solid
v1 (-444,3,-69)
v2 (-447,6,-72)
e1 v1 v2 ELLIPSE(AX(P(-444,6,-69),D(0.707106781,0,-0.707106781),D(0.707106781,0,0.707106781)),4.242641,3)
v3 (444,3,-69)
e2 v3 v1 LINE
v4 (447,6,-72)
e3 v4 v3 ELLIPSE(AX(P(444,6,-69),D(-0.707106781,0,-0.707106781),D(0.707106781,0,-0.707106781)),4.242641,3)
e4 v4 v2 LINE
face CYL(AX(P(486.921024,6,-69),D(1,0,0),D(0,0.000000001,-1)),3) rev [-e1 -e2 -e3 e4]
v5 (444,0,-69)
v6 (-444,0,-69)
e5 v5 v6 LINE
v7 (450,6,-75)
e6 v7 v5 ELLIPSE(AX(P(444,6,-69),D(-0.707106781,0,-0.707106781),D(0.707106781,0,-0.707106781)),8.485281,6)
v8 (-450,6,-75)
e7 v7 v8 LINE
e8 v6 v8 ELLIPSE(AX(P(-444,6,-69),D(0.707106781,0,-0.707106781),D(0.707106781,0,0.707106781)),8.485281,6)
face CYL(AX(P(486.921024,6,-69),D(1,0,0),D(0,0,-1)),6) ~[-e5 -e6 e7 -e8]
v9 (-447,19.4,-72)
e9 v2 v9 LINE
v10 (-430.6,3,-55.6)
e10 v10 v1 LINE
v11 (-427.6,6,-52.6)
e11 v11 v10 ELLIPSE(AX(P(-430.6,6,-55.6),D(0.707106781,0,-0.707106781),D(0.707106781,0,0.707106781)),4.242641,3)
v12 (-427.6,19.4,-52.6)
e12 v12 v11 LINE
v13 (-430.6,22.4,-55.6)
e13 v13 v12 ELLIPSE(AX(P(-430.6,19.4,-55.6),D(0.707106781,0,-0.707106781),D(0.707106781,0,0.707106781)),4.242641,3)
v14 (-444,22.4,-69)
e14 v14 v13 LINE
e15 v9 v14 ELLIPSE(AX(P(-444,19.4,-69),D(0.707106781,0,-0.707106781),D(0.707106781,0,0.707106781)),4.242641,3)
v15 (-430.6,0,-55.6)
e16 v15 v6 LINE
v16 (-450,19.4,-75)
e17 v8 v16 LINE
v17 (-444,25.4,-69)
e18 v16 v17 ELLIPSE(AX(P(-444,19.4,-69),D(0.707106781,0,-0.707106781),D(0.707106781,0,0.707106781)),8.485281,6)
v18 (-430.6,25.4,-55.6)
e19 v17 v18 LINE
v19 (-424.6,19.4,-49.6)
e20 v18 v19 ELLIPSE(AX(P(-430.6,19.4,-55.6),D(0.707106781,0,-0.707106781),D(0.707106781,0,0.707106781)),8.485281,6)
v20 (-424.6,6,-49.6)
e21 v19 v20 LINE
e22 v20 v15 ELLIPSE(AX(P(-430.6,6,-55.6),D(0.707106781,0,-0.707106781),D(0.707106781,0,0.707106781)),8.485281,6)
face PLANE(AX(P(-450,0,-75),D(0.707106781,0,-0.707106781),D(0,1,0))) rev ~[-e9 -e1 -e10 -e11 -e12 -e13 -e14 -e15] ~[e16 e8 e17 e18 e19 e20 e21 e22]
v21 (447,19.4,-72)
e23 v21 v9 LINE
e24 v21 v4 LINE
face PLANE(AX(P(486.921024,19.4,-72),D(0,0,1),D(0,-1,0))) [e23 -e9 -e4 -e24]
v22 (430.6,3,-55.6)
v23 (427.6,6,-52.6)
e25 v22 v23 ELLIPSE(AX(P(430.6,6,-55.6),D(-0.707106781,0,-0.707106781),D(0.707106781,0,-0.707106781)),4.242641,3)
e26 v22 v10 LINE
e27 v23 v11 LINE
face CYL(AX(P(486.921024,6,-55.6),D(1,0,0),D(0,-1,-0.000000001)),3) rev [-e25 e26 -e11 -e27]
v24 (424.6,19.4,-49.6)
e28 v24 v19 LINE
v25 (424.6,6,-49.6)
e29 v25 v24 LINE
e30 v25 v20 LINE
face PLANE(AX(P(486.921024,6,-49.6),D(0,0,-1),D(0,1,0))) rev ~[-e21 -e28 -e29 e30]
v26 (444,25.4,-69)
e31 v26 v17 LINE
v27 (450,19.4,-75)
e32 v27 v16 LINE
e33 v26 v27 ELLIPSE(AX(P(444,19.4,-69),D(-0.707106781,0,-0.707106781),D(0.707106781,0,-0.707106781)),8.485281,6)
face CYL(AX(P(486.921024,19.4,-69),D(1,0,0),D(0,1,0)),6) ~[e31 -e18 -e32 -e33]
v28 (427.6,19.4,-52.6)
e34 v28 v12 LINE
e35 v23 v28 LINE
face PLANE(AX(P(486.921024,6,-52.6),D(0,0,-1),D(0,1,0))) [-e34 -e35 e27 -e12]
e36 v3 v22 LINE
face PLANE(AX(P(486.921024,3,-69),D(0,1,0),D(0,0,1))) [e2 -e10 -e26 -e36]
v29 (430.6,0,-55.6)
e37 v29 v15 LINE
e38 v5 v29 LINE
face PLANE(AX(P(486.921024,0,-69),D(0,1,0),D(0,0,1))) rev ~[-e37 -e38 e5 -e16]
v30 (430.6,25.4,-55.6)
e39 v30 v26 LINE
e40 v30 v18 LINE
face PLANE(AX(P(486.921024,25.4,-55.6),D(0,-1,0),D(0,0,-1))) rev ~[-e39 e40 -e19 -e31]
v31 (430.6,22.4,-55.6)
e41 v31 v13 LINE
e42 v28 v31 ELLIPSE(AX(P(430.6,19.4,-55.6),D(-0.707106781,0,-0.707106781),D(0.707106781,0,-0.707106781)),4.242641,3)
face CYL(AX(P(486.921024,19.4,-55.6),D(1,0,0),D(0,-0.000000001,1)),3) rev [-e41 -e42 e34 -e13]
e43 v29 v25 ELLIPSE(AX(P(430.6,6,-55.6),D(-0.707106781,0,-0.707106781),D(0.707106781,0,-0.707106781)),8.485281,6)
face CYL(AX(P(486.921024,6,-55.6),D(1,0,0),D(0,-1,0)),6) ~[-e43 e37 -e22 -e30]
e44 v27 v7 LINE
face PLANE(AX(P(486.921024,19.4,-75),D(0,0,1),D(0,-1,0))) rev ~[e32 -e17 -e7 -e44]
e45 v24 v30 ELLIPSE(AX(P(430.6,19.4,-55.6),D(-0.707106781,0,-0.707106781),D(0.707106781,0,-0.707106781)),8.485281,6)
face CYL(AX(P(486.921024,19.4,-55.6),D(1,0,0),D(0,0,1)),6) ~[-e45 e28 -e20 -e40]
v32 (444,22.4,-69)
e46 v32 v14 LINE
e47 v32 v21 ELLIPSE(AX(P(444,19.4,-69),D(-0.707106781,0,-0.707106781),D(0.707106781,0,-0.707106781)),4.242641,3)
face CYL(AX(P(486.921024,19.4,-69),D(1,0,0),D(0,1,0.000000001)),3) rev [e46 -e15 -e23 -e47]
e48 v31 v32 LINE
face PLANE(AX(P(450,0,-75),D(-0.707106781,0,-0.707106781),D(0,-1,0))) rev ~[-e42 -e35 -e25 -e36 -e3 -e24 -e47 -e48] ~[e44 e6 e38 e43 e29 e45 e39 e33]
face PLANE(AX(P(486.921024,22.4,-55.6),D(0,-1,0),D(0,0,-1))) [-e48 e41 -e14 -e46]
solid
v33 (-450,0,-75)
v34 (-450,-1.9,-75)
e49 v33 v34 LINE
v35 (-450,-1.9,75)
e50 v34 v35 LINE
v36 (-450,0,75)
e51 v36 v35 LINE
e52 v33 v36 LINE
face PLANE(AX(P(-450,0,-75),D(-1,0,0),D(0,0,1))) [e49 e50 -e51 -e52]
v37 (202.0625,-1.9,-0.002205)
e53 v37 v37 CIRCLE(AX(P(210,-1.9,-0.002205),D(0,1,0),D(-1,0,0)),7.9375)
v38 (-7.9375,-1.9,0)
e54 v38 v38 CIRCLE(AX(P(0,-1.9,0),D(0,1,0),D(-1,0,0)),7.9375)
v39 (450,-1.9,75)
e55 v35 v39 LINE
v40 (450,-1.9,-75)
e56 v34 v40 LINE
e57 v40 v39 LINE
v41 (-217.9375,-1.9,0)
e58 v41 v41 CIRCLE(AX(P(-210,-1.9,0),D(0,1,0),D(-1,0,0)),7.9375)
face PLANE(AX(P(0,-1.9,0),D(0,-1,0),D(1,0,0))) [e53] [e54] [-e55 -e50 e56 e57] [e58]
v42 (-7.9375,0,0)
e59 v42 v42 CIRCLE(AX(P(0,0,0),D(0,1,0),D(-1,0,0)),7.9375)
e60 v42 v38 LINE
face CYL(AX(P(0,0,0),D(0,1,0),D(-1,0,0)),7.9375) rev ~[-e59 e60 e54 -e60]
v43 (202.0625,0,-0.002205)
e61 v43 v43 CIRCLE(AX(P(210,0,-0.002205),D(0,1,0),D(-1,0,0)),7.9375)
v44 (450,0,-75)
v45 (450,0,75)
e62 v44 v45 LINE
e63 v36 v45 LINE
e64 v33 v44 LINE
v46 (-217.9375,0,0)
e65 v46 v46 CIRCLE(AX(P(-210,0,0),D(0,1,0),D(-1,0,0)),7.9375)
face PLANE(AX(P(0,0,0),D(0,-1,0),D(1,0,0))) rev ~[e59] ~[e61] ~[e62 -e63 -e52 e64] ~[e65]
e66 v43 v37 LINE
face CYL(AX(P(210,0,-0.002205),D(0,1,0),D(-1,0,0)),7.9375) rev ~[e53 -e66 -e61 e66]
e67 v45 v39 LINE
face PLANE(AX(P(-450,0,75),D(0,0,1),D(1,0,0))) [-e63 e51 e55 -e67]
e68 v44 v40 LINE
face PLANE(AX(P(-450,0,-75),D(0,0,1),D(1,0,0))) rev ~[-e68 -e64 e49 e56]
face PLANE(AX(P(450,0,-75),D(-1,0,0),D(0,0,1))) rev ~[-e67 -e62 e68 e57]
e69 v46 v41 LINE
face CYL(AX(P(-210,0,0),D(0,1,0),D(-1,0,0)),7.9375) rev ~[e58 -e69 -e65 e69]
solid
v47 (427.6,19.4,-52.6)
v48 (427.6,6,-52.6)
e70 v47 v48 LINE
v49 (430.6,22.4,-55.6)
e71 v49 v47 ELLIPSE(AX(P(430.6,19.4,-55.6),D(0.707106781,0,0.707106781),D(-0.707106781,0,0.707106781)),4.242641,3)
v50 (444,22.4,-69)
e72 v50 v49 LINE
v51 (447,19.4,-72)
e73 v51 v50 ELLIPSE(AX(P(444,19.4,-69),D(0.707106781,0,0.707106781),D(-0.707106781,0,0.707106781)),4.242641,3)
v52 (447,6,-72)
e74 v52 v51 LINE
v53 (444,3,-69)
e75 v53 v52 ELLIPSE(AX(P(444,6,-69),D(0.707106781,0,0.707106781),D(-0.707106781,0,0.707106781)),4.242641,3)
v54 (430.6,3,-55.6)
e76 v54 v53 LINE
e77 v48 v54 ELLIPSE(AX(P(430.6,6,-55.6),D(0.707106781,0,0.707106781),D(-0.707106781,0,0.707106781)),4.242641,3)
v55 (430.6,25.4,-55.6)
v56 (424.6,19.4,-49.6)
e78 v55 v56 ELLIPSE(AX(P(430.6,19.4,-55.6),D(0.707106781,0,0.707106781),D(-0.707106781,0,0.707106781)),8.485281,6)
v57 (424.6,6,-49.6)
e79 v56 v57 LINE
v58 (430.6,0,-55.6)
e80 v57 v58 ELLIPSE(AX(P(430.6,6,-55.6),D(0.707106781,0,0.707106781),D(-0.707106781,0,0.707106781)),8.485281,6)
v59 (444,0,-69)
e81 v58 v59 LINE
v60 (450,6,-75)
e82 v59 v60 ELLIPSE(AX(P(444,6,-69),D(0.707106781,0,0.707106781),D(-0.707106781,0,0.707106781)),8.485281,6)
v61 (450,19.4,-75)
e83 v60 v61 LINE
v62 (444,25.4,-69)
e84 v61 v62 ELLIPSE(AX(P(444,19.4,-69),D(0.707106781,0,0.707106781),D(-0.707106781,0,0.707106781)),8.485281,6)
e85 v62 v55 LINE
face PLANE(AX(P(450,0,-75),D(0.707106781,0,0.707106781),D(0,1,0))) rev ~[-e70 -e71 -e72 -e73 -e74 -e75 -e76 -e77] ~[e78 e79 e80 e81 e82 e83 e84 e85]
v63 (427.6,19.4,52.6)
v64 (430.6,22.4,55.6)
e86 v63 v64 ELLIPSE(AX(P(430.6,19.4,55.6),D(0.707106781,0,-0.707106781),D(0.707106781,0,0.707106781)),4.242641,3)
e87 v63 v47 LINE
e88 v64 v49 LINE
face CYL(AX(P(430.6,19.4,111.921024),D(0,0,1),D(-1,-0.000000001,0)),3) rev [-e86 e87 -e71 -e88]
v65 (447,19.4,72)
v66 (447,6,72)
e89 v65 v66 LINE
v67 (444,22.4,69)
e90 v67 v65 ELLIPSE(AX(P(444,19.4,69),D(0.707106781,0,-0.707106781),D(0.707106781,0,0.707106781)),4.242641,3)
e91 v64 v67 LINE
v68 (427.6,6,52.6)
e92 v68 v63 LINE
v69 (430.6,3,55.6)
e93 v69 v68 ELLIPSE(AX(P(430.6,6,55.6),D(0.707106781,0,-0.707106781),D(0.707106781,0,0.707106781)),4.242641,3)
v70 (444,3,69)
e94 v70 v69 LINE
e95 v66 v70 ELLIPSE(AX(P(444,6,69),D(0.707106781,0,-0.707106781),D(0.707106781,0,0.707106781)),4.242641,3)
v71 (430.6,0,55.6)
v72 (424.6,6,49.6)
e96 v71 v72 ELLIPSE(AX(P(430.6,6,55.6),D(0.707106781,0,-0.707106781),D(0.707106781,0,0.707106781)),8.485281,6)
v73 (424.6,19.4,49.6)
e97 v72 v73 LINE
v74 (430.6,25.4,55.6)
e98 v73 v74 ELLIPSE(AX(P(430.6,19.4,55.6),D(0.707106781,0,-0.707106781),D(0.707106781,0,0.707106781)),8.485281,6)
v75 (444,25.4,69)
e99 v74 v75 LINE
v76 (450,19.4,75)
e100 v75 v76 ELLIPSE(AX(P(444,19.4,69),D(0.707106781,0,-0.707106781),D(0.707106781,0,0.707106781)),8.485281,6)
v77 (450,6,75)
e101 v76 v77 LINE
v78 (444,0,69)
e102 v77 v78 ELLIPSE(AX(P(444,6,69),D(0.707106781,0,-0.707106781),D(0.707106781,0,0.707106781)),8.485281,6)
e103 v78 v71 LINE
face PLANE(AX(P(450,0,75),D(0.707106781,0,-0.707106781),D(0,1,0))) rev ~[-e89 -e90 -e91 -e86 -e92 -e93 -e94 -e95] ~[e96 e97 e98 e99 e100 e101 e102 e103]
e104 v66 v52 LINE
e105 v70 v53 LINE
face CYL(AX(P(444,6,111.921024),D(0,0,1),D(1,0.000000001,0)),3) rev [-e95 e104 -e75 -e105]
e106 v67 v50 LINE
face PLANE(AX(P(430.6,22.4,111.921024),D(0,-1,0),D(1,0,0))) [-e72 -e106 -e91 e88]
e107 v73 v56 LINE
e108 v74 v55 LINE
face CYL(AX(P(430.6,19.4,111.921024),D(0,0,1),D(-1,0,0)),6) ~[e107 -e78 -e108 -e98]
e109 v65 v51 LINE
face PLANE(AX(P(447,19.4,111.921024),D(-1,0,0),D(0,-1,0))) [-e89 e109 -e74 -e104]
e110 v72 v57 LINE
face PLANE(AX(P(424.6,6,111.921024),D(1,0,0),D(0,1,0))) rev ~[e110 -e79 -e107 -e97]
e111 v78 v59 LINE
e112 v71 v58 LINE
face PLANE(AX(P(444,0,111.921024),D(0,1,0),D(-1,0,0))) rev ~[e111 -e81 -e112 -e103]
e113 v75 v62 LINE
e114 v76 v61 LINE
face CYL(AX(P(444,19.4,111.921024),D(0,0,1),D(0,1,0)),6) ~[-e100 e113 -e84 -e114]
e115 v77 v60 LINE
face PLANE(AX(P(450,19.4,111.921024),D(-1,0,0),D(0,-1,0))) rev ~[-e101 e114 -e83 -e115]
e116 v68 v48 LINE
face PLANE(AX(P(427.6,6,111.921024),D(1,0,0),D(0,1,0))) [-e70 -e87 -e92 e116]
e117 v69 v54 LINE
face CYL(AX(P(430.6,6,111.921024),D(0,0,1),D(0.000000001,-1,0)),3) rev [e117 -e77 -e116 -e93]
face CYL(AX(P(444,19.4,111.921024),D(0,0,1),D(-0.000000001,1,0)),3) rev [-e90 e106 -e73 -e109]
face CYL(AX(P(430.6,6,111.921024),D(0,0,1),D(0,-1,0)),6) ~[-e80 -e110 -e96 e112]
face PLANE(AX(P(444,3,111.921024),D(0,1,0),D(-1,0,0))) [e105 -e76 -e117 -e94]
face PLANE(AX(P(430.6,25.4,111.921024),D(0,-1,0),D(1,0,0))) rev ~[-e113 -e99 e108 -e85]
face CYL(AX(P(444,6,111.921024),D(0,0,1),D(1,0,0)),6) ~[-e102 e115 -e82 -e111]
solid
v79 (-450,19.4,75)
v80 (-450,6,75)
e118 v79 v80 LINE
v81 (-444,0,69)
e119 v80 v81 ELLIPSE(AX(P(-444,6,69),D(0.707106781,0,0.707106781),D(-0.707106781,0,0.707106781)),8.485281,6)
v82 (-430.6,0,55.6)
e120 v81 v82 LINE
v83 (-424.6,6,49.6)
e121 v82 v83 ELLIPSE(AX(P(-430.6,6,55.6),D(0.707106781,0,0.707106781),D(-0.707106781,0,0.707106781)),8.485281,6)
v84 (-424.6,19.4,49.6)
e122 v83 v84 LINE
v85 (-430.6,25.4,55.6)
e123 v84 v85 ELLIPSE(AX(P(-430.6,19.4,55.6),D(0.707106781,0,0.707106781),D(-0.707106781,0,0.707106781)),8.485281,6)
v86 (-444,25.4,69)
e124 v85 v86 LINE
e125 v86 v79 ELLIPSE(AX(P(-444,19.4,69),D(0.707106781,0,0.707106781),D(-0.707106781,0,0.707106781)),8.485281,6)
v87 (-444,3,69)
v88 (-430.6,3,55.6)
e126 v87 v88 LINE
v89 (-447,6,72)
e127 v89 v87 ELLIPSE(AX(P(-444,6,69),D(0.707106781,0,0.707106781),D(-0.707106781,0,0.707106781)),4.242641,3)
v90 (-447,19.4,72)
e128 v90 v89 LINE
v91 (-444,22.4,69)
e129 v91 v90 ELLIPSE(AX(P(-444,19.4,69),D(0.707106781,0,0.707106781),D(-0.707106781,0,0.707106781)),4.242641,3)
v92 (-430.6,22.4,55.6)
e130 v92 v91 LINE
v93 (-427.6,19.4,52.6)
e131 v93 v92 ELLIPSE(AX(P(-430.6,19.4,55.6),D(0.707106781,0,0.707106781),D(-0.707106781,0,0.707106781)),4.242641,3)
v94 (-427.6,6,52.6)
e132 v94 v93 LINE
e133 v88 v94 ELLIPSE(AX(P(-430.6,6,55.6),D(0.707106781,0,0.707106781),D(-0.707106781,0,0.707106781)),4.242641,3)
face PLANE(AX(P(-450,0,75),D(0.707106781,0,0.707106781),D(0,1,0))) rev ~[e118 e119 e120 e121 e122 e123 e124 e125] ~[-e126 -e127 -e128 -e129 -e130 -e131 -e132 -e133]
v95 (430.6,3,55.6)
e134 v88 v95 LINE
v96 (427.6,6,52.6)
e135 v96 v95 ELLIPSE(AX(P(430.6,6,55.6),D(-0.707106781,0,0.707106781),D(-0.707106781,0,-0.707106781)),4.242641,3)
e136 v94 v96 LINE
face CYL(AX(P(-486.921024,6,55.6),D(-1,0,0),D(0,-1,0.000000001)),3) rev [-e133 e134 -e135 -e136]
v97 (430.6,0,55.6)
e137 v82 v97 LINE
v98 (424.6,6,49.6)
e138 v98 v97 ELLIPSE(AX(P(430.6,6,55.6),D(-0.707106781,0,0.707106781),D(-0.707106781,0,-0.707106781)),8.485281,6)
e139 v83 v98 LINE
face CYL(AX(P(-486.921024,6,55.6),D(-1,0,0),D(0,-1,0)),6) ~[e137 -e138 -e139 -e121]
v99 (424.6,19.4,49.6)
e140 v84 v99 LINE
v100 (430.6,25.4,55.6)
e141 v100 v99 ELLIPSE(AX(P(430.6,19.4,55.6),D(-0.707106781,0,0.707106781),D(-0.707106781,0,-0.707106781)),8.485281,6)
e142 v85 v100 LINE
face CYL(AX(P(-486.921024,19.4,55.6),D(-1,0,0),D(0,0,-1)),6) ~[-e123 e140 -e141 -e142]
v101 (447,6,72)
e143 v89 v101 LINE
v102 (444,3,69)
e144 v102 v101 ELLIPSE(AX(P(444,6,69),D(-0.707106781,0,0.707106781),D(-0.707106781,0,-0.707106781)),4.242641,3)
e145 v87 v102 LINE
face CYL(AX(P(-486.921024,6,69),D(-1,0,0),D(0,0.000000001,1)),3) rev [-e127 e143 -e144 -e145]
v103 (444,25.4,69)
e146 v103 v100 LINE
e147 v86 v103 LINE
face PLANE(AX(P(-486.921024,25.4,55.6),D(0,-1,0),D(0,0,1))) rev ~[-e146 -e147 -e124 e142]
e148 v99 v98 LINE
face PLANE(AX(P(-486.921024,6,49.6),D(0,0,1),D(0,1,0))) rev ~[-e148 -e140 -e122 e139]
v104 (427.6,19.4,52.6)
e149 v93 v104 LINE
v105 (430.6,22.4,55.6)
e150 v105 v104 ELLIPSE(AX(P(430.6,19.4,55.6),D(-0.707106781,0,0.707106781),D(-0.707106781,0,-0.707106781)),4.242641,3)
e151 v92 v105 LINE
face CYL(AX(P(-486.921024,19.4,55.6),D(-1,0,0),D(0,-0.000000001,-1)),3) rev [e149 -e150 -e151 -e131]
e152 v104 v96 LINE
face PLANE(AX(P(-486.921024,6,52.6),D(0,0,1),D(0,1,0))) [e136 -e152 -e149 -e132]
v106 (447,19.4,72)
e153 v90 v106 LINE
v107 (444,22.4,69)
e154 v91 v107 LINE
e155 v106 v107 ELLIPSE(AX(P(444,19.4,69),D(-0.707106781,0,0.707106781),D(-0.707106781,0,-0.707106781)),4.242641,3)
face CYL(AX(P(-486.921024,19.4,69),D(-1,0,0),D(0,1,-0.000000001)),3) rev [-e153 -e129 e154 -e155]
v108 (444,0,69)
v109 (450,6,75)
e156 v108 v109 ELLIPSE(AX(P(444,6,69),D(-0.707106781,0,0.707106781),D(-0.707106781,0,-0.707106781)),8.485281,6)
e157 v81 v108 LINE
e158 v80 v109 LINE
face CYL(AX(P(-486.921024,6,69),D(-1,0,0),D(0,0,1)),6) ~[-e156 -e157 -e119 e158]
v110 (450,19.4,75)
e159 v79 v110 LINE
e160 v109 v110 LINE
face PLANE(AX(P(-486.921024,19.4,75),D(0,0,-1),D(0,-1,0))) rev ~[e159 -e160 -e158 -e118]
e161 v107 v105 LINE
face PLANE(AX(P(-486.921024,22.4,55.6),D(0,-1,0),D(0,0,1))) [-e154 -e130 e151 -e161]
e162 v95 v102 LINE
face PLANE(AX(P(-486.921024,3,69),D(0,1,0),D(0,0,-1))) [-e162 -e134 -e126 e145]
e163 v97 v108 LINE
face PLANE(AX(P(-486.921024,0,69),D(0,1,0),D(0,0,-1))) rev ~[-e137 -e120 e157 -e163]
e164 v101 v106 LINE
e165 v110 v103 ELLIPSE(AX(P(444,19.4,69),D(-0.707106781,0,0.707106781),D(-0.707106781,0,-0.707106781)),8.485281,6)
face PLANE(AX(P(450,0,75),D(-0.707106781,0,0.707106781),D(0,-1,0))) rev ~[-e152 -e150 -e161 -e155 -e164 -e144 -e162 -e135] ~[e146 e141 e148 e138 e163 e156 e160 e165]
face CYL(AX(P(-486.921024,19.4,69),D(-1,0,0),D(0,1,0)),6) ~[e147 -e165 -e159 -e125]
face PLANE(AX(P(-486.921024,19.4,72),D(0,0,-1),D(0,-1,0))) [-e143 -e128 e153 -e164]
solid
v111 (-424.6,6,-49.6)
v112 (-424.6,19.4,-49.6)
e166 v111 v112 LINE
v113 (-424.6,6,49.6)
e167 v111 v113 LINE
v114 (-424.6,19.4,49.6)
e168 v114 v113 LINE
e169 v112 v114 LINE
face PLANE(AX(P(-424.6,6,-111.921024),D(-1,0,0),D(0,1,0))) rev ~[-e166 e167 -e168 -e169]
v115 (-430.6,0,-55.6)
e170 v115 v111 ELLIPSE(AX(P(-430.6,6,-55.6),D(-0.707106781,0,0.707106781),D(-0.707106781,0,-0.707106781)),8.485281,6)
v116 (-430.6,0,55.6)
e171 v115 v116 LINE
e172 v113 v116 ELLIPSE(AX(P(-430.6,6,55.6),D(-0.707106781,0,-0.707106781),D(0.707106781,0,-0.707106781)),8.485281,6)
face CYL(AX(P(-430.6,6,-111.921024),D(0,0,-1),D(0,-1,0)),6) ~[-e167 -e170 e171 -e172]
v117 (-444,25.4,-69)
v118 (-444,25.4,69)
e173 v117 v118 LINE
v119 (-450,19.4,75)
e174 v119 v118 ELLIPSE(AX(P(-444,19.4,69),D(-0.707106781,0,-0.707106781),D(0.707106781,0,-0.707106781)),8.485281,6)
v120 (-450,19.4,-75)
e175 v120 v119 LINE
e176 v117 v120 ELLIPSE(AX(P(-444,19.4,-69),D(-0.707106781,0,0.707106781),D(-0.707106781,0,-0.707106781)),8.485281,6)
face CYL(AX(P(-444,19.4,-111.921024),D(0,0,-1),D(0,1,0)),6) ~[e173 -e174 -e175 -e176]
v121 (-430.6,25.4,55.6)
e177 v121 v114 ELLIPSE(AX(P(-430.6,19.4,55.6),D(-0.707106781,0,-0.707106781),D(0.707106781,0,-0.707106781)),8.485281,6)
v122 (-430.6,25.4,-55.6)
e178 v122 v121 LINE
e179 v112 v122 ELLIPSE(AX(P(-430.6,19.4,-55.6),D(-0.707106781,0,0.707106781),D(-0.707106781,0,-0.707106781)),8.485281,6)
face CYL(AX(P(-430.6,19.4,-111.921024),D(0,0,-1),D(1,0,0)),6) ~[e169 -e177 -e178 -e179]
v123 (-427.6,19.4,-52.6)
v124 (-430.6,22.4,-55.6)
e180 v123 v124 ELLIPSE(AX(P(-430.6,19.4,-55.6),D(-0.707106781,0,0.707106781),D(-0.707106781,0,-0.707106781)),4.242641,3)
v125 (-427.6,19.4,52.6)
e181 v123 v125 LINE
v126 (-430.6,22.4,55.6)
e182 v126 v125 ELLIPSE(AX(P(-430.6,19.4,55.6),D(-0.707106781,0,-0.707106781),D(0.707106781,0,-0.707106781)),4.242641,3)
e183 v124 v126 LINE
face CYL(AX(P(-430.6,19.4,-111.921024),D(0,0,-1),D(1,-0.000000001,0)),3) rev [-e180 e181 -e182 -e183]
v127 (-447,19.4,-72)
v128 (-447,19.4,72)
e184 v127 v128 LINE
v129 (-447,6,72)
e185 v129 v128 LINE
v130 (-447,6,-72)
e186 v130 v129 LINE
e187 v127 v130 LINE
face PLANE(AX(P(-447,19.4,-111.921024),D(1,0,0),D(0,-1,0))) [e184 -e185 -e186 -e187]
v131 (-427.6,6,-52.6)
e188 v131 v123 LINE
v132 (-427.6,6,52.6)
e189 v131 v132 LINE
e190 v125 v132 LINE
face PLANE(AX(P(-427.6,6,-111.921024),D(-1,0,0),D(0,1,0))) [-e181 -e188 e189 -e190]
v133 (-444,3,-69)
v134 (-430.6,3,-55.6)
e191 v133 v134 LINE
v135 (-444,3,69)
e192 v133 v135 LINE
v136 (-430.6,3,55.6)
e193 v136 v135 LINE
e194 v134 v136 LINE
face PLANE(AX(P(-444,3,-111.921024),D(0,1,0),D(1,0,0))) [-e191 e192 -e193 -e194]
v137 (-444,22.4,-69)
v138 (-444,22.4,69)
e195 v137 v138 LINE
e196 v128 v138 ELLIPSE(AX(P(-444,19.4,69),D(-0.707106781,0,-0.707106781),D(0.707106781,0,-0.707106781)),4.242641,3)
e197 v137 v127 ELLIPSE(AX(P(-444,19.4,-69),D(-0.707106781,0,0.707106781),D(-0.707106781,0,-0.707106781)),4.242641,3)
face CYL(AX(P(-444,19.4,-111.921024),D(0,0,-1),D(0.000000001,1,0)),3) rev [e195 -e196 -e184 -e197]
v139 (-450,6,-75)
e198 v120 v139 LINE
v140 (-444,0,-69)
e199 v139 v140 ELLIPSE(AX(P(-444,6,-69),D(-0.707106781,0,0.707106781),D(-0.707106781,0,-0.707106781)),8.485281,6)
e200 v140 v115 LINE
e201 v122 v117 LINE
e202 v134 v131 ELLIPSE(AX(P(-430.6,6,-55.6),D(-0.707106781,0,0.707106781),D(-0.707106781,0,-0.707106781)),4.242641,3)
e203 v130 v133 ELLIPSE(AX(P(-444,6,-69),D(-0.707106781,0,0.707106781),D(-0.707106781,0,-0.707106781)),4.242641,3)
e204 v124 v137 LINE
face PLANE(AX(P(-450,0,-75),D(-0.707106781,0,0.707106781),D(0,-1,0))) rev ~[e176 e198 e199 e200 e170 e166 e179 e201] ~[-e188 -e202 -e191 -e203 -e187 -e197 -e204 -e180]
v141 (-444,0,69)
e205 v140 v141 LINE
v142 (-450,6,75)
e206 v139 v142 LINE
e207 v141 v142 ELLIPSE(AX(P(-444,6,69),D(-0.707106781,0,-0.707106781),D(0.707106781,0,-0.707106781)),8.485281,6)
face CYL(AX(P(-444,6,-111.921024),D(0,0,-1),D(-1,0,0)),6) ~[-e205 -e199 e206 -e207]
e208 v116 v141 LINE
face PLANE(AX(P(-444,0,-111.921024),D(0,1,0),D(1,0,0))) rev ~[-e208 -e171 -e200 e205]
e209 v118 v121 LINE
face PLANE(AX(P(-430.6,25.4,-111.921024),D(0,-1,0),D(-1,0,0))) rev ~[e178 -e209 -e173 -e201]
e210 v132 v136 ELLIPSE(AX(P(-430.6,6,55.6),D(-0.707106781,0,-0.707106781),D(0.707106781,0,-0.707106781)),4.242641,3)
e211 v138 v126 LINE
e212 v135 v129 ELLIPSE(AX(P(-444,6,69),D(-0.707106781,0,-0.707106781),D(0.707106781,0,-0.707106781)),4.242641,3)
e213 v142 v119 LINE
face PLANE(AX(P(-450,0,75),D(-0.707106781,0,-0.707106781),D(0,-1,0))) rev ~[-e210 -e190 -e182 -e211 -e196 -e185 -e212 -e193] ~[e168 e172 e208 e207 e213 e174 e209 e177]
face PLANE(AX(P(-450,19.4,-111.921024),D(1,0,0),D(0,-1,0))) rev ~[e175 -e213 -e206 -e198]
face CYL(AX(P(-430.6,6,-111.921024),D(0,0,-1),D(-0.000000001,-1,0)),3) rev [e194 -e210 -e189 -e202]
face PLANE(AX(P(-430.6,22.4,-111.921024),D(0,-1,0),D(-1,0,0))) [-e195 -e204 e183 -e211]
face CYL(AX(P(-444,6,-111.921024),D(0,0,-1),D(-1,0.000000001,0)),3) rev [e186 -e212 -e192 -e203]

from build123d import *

# Parameters (mm, degrees)
TUBO_CUADRADO_2_X_2_X_0_25_1_DEPTH      = 186.921024484
TUBO_CUADRADO_2_X_2_X_0_25_1_DEPTH_BACK = 36.921024484
TUBO_CUADRADO_2_X_2_X_0_25_1_2_DEPTH    = 973.842048969
TUBO_CUADRADO_2_X_2_X_0_25_1_3_DEPTH    = 223.842048969
TUBO_CUADRADO_2_X_2_X_0_25_1_4_DEPTH    = 973.842048969
CROQUIS3_W                              = 900
CROQUIS3_H                              = 150
SALIENTE_EXTRUIR1_DEPTH                 = 1.9
CROQUIS4_R                              = 7.937500001
CORTAR_EXTRUIR1_DEPTH                   = 10


with BuildPart() as part:
    # Sketch1 → Tubo cuadrado 2 X 2 X 0.25(1) (new, two sides: drawn at the far end of the back side and taken through both)
    with BuildSketch(Plane(origin=(-437.3, 12.7, -75), x_dir=(1, 0, 0), z_dir=(0, 0, 1)).offset(-TUBO_CUADRADO_2_X_2_X_0_25_1_DEPTH_BACK)):
        with BuildLine():
            Line((-6.7, -12.7), (6.7, -12.7))
            ThreePointArc((6.7, -12.7), (10.942640687, -10.942640687), (12.7, -6.7))
            Line((12.7, -6.7), (12.7, 6.7))
            ThreePointArc((12.7, 6.7), (10.942640687, 10.942640687), (6.7, 12.7))
            Line((6.7, 12.7), (-6.7, 12.7))
            ThreePointArc((-6.7, 12.7), (-10.942640687, 10.942640687), (-12.7, 6.7))
            Line((-12.7, 6.7), (-12.7, -6.7))
            ThreePointArc((-12.7, -6.7), (-10.942640687, -10.942640687), (-6.7, -12.7))
        make_face()
        with BuildLine():
            Line((-6.7, -9.7), (6.7, -9.7))
            ThreePointArc((6.7, -9.7), (8.821320344, -8.821320344), (9.7, -6.7))
            Line((9.7, -6.7), (9.7, 6.7))
            ThreePointArc((9.7, 6.7), (8.821320344, 8.821320344), (6.7, 9.7))
            Line((6.7, 9.7), (-6.7, 9.7))
            ThreePointArc((-6.7, 9.7), (-8.821320344, 8.821320344), (-9.7, 6.7))
            Line((-9.7, 6.7), (-9.7, -6.7))
            ThreePointArc((-9.7, -6.7), (-8.821320344, -8.821320344), (-6.7, -9.7))
        make_face(mode=Mode.SUBTRACT)
    extrude(amount=TUBO_CUADRADO_2_X_2_X_0_25_1_DEPTH + TUBO_CUADRADO_2_X_2_X_0_25_1_DEPTH_BACK)

    # Tubo cuadrado 2 X 2 X 0.25(1) mitre 1
    split(bisect_by=Plane(origin=(-450, 0, -75), x_dir=(0, -1, 0), z_dir=(-0.707106781, 0, 0.707106781)), keep=Keep.TOP)

    # Tubo cuadrado 2 X 2 X 0.25(1) mitre 2
    split(bisect_by=Plane(origin=(-450, 0, 75), x_dir=(0, -1, 0), z_dir=(-0.707106781, 0, -0.707106781)), keep=Keep.TOP)


with BuildPart() as body_2:
    # Sketch1 on segment 2 (carried to segment 2) → Tubo cuadrado 2 X 2 X 0.25_1 2 (new body)
    with BuildSketch(Plane(origin=(-486.921024484, 12.7, 62.3), x_dir=(0, 0, -1), z_dir=(1, 0, 0))):
        with BuildLine():
            Line((-6.7, -12.7), (6.7, -12.7))
            ThreePointArc((6.7, -12.7), (10.942640687, -10.942640687), (12.7, -6.7))
            Line((12.7, -6.7), (12.7, 6.7))
            ThreePointArc((12.7, 6.7), (10.942640687, 10.942640687), (6.7, 12.7))
            Line((6.7, 12.7), (-6.7, 12.7))
            ThreePointArc((-6.7, 12.7), (-10.942640687, 10.942640687), (-12.7, 6.7))
            Line((-12.7, 6.7), (-12.7, -6.7))
            ThreePointArc((-12.7, -6.7), (-10.942640687, -10.942640687), (-6.7, -12.7))
        make_face()
        with BuildLine():
            Line((-6.7, -9.7), (6.7, -9.7))
            ThreePointArc((6.7, -9.7), (8.821320344, -8.821320344), (9.7, -6.7))
            Line((9.7, -6.7), (9.7, 6.7))
            ThreePointArc((9.7, 6.7), (8.821320344, 8.821320344), (6.7, 9.7))
            Line((6.7, 9.7), (-6.7, 9.7))
            ThreePointArc((-6.7, 9.7), (-8.821320344, 8.821320344), (-9.7, 6.7))
            Line((-9.7, 6.7), (-9.7, -6.7))
            ThreePointArc((-9.7, -6.7), (-8.821320344, -8.821320344), (-6.7, -9.7))
        make_face(mode=Mode.SUBTRACT)
    extrude(amount=TUBO_CUADRADO_2_X_2_X_0_25_1_2_DEPTH)

    # Tubo cuadrado 2 X 2 X 0.25_1 2 mitre 1
    split(bisect_by=Plane(origin=(-450, 0, 75), x_dir=(0, 1, 0), z_dir=(0.707106781, 0, 0.707106781)), keep=Keep.TOP)

    # Tubo cuadrado 2 X 2 X 0.25_1 2 mitre 2
    split(bisect_by=Plane(origin=(450, 0, 75), x_dir=(0, -1, 0), z_dir=(-0.707106781, 0, 0.707106781)), keep=Keep.TOP)


with BuildPart() as body_3:
    # Sketch1 on segment 3 (carried to segment 3) → Tubo cuadrado 2 X 2 X 0.25_1 3 (new body)
    with BuildSketch(Plane(origin=(437.3, 12.7, 111.921024484), x_dir=(-1, 0, 0), z_dir=(0, 0, -1))):
        with BuildLine():
            Line((-6.7, -12.7), (6.7, -12.7))
            ThreePointArc((6.7, -12.7), (10.942640687, -10.942640687), (12.7, -6.7))
            Line((12.7, -6.7), (12.7, 6.7))
            ThreePointArc((12.7, 6.7), (10.942640687, 10.942640687), (6.7, 12.7))
            Line((6.7, 12.7), (-6.7, 12.7))
            ThreePointArc((-6.7, 12.7), (-10.942640687, 10.942640687), (-12.7, 6.7))
            Line((-12.7, 6.7), (-12.7, -6.7))
            ThreePointArc((-12.7, -6.7), (-10.942640687, -10.942640687), (-6.7, -12.7))
        make_face()
        with BuildLine():
            Line((-6.7, -9.7), (6.7, -9.7))
            ThreePointArc((6.7, -9.7), (8.821320344, -8.821320344), (9.7, -6.7))
            Line((9.7, -6.7), (9.7, 6.7))
            ThreePointArc((9.7, 6.7), (8.821320344, 8.821320344), (6.7, 9.7))
            Line((6.7, 9.7), (-6.7, 9.7))
            ThreePointArc((-6.7, 9.7), (-8.821320344, 8.821320344), (-9.7, 6.7))
            Line((-9.7, 6.7), (-9.7, -6.7))
            ThreePointArc((-9.7, -6.7), (-8.821320344, -8.821320344), (-6.7, -9.7))
        make_face(mode=Mode.SUBTRACT)
    extrude(amount=TUBO_CUADRADO_2_X_2_X_0_25_1_3_DEPTH)

    # Tubo cuadrado 2 X 2 X 0.25_1 3 mitre 1
    split(bisect_by=Plane(origin=(450, 0, -75), x_dir=(0, 1, 0), z_dir=(0.707106781, 0, 0.707106781)), keep=Keep.TOP)

    # Tubo cuadrado 2 X 2 X 0.25_1 3 mitre 2
    split(bisect_by=Plane(origin=(450, 0, 75), x_dir=(0, 1, 0), z_dir=(0.707106781, 0, -0.707106781)), keep=Keep.TOP)


with BuildPart() as body_4:
    # Sketch1 on segment 4 (carried to segment 4) → Tubo cuadrado 2 X 2 X 0.25_1 4 (new body)
    with BuildSketch(Plane(origin=(486.921024484, 12.7, -62.3), x_dir=(0, 0, 1), z_dir=(-1, 0, 0))):
        with BuildLine():
            Line((-6.7, -12.7), (6.7, -12.7))
            ThreePointArc((6.7, -12.7), (10.942640687, -10.942640687), (12.7, -6.7))
            Line((12.7, -6.7), (12.7, 6.7))
            ThreePointArc((12.7, 6.7), (10.942640687, 10.942640687), (6.7, 12.7))
            Line((6.7, 12.7), (-6.7, 12.7))
            ThreePointArc((-6.7, 12.7), (-10.942640687, 10.942640687), (-12.7, 6.7))
            Line((-12.7, 6.7), (-12.7, -6.7))
            ThreePointArc((-12.7, -6.7), (-10.942640687, -10.942640687), (-6.7, -12.7))
        make_face()
        with BuildLine():
            Line((-6.7, -9.7), (6.7, -9.7))
            ThreePointArc((6.7, -9.7), (8.821320344, -8.821320344), (9.7, -6.7))
            Line((9.7, -6.7), (9.7, 6.7))
            ThreePointArc((9.7, 6.7), (8.821320344, 8.821320344), (6.7, 9.7))
            Line((6.7, 9.7), (-6.7, 9.7))
            ThreePointArc((-6.7, 9.7), (-8.821320344, 8.821320344), (-9.7, 6.7))
            Line((-9.7, 6.7), (-9.7, -6.7))
            ThreePointArc((-9.7, -6.7), (-8.821320344, -8.821320344), (-6.7, -9.7))
        make_face(mode=Mode.SUBTRACT)
    extrude(amount=TUBO_CUADRADO_2_X_2_X_0_25_1_4_DEPTH)

    # Tubo cuadrado 2 X 2 X 0.25_1 4 mitre 1
    split(bisect_by=Plane(origin=(-450, 0, -75), x_dir=(0, 1, 0), z_dir=(0.707106781, 0, -0.707106781)), keep=Keep.TOP)

    # Tubo cuadrado 2 X 2 X 0.25_1 4 mitre 2
    split(bisect_by=Plane(origin=(450, 0, -75), x_dir=(0, -1, 0), z_dir=(-0.707106781, 0, -0.707106781)), keep=Keep.TOP)


with BuildPart() as body_5:
    # Croquis3 → Saliente-Extruir1 (new body)
    with BuildSketch(Plane.XZ):
        Rectangle(CROQUIS3_W, CROQUIS3_H)
    extrude(amount=SALIENTE_EXTRUIR1_DEPTH)

    # Croquis4 → Cortar-Extruir1 (cut)
    with BuildSketch(Plane(origin=(0, 0, 0), x_dir=(1, 0, 0), z_dir=(0, 1, 0))):
        with Locations(Location((-210, 0, 0), (0, 0, 180))):
            Circle(CROQUIS4_R)
        with Locations(Location((0, 0, 0), (0, 0, 180))):
            Circle(CROQUIS4_R)
        with Locations(Location((210, 0.002204666, 0), (0, 0, 180))):
            Circle(CROQUIS4_R)
    extrude(amount=-CORTAR_EXTRUIR1_DEPTH, mode=Mode.SUBTRACT)


solid = Compound([part.part, body_2.part, body_3.part, body_4.part, body_5.part])
